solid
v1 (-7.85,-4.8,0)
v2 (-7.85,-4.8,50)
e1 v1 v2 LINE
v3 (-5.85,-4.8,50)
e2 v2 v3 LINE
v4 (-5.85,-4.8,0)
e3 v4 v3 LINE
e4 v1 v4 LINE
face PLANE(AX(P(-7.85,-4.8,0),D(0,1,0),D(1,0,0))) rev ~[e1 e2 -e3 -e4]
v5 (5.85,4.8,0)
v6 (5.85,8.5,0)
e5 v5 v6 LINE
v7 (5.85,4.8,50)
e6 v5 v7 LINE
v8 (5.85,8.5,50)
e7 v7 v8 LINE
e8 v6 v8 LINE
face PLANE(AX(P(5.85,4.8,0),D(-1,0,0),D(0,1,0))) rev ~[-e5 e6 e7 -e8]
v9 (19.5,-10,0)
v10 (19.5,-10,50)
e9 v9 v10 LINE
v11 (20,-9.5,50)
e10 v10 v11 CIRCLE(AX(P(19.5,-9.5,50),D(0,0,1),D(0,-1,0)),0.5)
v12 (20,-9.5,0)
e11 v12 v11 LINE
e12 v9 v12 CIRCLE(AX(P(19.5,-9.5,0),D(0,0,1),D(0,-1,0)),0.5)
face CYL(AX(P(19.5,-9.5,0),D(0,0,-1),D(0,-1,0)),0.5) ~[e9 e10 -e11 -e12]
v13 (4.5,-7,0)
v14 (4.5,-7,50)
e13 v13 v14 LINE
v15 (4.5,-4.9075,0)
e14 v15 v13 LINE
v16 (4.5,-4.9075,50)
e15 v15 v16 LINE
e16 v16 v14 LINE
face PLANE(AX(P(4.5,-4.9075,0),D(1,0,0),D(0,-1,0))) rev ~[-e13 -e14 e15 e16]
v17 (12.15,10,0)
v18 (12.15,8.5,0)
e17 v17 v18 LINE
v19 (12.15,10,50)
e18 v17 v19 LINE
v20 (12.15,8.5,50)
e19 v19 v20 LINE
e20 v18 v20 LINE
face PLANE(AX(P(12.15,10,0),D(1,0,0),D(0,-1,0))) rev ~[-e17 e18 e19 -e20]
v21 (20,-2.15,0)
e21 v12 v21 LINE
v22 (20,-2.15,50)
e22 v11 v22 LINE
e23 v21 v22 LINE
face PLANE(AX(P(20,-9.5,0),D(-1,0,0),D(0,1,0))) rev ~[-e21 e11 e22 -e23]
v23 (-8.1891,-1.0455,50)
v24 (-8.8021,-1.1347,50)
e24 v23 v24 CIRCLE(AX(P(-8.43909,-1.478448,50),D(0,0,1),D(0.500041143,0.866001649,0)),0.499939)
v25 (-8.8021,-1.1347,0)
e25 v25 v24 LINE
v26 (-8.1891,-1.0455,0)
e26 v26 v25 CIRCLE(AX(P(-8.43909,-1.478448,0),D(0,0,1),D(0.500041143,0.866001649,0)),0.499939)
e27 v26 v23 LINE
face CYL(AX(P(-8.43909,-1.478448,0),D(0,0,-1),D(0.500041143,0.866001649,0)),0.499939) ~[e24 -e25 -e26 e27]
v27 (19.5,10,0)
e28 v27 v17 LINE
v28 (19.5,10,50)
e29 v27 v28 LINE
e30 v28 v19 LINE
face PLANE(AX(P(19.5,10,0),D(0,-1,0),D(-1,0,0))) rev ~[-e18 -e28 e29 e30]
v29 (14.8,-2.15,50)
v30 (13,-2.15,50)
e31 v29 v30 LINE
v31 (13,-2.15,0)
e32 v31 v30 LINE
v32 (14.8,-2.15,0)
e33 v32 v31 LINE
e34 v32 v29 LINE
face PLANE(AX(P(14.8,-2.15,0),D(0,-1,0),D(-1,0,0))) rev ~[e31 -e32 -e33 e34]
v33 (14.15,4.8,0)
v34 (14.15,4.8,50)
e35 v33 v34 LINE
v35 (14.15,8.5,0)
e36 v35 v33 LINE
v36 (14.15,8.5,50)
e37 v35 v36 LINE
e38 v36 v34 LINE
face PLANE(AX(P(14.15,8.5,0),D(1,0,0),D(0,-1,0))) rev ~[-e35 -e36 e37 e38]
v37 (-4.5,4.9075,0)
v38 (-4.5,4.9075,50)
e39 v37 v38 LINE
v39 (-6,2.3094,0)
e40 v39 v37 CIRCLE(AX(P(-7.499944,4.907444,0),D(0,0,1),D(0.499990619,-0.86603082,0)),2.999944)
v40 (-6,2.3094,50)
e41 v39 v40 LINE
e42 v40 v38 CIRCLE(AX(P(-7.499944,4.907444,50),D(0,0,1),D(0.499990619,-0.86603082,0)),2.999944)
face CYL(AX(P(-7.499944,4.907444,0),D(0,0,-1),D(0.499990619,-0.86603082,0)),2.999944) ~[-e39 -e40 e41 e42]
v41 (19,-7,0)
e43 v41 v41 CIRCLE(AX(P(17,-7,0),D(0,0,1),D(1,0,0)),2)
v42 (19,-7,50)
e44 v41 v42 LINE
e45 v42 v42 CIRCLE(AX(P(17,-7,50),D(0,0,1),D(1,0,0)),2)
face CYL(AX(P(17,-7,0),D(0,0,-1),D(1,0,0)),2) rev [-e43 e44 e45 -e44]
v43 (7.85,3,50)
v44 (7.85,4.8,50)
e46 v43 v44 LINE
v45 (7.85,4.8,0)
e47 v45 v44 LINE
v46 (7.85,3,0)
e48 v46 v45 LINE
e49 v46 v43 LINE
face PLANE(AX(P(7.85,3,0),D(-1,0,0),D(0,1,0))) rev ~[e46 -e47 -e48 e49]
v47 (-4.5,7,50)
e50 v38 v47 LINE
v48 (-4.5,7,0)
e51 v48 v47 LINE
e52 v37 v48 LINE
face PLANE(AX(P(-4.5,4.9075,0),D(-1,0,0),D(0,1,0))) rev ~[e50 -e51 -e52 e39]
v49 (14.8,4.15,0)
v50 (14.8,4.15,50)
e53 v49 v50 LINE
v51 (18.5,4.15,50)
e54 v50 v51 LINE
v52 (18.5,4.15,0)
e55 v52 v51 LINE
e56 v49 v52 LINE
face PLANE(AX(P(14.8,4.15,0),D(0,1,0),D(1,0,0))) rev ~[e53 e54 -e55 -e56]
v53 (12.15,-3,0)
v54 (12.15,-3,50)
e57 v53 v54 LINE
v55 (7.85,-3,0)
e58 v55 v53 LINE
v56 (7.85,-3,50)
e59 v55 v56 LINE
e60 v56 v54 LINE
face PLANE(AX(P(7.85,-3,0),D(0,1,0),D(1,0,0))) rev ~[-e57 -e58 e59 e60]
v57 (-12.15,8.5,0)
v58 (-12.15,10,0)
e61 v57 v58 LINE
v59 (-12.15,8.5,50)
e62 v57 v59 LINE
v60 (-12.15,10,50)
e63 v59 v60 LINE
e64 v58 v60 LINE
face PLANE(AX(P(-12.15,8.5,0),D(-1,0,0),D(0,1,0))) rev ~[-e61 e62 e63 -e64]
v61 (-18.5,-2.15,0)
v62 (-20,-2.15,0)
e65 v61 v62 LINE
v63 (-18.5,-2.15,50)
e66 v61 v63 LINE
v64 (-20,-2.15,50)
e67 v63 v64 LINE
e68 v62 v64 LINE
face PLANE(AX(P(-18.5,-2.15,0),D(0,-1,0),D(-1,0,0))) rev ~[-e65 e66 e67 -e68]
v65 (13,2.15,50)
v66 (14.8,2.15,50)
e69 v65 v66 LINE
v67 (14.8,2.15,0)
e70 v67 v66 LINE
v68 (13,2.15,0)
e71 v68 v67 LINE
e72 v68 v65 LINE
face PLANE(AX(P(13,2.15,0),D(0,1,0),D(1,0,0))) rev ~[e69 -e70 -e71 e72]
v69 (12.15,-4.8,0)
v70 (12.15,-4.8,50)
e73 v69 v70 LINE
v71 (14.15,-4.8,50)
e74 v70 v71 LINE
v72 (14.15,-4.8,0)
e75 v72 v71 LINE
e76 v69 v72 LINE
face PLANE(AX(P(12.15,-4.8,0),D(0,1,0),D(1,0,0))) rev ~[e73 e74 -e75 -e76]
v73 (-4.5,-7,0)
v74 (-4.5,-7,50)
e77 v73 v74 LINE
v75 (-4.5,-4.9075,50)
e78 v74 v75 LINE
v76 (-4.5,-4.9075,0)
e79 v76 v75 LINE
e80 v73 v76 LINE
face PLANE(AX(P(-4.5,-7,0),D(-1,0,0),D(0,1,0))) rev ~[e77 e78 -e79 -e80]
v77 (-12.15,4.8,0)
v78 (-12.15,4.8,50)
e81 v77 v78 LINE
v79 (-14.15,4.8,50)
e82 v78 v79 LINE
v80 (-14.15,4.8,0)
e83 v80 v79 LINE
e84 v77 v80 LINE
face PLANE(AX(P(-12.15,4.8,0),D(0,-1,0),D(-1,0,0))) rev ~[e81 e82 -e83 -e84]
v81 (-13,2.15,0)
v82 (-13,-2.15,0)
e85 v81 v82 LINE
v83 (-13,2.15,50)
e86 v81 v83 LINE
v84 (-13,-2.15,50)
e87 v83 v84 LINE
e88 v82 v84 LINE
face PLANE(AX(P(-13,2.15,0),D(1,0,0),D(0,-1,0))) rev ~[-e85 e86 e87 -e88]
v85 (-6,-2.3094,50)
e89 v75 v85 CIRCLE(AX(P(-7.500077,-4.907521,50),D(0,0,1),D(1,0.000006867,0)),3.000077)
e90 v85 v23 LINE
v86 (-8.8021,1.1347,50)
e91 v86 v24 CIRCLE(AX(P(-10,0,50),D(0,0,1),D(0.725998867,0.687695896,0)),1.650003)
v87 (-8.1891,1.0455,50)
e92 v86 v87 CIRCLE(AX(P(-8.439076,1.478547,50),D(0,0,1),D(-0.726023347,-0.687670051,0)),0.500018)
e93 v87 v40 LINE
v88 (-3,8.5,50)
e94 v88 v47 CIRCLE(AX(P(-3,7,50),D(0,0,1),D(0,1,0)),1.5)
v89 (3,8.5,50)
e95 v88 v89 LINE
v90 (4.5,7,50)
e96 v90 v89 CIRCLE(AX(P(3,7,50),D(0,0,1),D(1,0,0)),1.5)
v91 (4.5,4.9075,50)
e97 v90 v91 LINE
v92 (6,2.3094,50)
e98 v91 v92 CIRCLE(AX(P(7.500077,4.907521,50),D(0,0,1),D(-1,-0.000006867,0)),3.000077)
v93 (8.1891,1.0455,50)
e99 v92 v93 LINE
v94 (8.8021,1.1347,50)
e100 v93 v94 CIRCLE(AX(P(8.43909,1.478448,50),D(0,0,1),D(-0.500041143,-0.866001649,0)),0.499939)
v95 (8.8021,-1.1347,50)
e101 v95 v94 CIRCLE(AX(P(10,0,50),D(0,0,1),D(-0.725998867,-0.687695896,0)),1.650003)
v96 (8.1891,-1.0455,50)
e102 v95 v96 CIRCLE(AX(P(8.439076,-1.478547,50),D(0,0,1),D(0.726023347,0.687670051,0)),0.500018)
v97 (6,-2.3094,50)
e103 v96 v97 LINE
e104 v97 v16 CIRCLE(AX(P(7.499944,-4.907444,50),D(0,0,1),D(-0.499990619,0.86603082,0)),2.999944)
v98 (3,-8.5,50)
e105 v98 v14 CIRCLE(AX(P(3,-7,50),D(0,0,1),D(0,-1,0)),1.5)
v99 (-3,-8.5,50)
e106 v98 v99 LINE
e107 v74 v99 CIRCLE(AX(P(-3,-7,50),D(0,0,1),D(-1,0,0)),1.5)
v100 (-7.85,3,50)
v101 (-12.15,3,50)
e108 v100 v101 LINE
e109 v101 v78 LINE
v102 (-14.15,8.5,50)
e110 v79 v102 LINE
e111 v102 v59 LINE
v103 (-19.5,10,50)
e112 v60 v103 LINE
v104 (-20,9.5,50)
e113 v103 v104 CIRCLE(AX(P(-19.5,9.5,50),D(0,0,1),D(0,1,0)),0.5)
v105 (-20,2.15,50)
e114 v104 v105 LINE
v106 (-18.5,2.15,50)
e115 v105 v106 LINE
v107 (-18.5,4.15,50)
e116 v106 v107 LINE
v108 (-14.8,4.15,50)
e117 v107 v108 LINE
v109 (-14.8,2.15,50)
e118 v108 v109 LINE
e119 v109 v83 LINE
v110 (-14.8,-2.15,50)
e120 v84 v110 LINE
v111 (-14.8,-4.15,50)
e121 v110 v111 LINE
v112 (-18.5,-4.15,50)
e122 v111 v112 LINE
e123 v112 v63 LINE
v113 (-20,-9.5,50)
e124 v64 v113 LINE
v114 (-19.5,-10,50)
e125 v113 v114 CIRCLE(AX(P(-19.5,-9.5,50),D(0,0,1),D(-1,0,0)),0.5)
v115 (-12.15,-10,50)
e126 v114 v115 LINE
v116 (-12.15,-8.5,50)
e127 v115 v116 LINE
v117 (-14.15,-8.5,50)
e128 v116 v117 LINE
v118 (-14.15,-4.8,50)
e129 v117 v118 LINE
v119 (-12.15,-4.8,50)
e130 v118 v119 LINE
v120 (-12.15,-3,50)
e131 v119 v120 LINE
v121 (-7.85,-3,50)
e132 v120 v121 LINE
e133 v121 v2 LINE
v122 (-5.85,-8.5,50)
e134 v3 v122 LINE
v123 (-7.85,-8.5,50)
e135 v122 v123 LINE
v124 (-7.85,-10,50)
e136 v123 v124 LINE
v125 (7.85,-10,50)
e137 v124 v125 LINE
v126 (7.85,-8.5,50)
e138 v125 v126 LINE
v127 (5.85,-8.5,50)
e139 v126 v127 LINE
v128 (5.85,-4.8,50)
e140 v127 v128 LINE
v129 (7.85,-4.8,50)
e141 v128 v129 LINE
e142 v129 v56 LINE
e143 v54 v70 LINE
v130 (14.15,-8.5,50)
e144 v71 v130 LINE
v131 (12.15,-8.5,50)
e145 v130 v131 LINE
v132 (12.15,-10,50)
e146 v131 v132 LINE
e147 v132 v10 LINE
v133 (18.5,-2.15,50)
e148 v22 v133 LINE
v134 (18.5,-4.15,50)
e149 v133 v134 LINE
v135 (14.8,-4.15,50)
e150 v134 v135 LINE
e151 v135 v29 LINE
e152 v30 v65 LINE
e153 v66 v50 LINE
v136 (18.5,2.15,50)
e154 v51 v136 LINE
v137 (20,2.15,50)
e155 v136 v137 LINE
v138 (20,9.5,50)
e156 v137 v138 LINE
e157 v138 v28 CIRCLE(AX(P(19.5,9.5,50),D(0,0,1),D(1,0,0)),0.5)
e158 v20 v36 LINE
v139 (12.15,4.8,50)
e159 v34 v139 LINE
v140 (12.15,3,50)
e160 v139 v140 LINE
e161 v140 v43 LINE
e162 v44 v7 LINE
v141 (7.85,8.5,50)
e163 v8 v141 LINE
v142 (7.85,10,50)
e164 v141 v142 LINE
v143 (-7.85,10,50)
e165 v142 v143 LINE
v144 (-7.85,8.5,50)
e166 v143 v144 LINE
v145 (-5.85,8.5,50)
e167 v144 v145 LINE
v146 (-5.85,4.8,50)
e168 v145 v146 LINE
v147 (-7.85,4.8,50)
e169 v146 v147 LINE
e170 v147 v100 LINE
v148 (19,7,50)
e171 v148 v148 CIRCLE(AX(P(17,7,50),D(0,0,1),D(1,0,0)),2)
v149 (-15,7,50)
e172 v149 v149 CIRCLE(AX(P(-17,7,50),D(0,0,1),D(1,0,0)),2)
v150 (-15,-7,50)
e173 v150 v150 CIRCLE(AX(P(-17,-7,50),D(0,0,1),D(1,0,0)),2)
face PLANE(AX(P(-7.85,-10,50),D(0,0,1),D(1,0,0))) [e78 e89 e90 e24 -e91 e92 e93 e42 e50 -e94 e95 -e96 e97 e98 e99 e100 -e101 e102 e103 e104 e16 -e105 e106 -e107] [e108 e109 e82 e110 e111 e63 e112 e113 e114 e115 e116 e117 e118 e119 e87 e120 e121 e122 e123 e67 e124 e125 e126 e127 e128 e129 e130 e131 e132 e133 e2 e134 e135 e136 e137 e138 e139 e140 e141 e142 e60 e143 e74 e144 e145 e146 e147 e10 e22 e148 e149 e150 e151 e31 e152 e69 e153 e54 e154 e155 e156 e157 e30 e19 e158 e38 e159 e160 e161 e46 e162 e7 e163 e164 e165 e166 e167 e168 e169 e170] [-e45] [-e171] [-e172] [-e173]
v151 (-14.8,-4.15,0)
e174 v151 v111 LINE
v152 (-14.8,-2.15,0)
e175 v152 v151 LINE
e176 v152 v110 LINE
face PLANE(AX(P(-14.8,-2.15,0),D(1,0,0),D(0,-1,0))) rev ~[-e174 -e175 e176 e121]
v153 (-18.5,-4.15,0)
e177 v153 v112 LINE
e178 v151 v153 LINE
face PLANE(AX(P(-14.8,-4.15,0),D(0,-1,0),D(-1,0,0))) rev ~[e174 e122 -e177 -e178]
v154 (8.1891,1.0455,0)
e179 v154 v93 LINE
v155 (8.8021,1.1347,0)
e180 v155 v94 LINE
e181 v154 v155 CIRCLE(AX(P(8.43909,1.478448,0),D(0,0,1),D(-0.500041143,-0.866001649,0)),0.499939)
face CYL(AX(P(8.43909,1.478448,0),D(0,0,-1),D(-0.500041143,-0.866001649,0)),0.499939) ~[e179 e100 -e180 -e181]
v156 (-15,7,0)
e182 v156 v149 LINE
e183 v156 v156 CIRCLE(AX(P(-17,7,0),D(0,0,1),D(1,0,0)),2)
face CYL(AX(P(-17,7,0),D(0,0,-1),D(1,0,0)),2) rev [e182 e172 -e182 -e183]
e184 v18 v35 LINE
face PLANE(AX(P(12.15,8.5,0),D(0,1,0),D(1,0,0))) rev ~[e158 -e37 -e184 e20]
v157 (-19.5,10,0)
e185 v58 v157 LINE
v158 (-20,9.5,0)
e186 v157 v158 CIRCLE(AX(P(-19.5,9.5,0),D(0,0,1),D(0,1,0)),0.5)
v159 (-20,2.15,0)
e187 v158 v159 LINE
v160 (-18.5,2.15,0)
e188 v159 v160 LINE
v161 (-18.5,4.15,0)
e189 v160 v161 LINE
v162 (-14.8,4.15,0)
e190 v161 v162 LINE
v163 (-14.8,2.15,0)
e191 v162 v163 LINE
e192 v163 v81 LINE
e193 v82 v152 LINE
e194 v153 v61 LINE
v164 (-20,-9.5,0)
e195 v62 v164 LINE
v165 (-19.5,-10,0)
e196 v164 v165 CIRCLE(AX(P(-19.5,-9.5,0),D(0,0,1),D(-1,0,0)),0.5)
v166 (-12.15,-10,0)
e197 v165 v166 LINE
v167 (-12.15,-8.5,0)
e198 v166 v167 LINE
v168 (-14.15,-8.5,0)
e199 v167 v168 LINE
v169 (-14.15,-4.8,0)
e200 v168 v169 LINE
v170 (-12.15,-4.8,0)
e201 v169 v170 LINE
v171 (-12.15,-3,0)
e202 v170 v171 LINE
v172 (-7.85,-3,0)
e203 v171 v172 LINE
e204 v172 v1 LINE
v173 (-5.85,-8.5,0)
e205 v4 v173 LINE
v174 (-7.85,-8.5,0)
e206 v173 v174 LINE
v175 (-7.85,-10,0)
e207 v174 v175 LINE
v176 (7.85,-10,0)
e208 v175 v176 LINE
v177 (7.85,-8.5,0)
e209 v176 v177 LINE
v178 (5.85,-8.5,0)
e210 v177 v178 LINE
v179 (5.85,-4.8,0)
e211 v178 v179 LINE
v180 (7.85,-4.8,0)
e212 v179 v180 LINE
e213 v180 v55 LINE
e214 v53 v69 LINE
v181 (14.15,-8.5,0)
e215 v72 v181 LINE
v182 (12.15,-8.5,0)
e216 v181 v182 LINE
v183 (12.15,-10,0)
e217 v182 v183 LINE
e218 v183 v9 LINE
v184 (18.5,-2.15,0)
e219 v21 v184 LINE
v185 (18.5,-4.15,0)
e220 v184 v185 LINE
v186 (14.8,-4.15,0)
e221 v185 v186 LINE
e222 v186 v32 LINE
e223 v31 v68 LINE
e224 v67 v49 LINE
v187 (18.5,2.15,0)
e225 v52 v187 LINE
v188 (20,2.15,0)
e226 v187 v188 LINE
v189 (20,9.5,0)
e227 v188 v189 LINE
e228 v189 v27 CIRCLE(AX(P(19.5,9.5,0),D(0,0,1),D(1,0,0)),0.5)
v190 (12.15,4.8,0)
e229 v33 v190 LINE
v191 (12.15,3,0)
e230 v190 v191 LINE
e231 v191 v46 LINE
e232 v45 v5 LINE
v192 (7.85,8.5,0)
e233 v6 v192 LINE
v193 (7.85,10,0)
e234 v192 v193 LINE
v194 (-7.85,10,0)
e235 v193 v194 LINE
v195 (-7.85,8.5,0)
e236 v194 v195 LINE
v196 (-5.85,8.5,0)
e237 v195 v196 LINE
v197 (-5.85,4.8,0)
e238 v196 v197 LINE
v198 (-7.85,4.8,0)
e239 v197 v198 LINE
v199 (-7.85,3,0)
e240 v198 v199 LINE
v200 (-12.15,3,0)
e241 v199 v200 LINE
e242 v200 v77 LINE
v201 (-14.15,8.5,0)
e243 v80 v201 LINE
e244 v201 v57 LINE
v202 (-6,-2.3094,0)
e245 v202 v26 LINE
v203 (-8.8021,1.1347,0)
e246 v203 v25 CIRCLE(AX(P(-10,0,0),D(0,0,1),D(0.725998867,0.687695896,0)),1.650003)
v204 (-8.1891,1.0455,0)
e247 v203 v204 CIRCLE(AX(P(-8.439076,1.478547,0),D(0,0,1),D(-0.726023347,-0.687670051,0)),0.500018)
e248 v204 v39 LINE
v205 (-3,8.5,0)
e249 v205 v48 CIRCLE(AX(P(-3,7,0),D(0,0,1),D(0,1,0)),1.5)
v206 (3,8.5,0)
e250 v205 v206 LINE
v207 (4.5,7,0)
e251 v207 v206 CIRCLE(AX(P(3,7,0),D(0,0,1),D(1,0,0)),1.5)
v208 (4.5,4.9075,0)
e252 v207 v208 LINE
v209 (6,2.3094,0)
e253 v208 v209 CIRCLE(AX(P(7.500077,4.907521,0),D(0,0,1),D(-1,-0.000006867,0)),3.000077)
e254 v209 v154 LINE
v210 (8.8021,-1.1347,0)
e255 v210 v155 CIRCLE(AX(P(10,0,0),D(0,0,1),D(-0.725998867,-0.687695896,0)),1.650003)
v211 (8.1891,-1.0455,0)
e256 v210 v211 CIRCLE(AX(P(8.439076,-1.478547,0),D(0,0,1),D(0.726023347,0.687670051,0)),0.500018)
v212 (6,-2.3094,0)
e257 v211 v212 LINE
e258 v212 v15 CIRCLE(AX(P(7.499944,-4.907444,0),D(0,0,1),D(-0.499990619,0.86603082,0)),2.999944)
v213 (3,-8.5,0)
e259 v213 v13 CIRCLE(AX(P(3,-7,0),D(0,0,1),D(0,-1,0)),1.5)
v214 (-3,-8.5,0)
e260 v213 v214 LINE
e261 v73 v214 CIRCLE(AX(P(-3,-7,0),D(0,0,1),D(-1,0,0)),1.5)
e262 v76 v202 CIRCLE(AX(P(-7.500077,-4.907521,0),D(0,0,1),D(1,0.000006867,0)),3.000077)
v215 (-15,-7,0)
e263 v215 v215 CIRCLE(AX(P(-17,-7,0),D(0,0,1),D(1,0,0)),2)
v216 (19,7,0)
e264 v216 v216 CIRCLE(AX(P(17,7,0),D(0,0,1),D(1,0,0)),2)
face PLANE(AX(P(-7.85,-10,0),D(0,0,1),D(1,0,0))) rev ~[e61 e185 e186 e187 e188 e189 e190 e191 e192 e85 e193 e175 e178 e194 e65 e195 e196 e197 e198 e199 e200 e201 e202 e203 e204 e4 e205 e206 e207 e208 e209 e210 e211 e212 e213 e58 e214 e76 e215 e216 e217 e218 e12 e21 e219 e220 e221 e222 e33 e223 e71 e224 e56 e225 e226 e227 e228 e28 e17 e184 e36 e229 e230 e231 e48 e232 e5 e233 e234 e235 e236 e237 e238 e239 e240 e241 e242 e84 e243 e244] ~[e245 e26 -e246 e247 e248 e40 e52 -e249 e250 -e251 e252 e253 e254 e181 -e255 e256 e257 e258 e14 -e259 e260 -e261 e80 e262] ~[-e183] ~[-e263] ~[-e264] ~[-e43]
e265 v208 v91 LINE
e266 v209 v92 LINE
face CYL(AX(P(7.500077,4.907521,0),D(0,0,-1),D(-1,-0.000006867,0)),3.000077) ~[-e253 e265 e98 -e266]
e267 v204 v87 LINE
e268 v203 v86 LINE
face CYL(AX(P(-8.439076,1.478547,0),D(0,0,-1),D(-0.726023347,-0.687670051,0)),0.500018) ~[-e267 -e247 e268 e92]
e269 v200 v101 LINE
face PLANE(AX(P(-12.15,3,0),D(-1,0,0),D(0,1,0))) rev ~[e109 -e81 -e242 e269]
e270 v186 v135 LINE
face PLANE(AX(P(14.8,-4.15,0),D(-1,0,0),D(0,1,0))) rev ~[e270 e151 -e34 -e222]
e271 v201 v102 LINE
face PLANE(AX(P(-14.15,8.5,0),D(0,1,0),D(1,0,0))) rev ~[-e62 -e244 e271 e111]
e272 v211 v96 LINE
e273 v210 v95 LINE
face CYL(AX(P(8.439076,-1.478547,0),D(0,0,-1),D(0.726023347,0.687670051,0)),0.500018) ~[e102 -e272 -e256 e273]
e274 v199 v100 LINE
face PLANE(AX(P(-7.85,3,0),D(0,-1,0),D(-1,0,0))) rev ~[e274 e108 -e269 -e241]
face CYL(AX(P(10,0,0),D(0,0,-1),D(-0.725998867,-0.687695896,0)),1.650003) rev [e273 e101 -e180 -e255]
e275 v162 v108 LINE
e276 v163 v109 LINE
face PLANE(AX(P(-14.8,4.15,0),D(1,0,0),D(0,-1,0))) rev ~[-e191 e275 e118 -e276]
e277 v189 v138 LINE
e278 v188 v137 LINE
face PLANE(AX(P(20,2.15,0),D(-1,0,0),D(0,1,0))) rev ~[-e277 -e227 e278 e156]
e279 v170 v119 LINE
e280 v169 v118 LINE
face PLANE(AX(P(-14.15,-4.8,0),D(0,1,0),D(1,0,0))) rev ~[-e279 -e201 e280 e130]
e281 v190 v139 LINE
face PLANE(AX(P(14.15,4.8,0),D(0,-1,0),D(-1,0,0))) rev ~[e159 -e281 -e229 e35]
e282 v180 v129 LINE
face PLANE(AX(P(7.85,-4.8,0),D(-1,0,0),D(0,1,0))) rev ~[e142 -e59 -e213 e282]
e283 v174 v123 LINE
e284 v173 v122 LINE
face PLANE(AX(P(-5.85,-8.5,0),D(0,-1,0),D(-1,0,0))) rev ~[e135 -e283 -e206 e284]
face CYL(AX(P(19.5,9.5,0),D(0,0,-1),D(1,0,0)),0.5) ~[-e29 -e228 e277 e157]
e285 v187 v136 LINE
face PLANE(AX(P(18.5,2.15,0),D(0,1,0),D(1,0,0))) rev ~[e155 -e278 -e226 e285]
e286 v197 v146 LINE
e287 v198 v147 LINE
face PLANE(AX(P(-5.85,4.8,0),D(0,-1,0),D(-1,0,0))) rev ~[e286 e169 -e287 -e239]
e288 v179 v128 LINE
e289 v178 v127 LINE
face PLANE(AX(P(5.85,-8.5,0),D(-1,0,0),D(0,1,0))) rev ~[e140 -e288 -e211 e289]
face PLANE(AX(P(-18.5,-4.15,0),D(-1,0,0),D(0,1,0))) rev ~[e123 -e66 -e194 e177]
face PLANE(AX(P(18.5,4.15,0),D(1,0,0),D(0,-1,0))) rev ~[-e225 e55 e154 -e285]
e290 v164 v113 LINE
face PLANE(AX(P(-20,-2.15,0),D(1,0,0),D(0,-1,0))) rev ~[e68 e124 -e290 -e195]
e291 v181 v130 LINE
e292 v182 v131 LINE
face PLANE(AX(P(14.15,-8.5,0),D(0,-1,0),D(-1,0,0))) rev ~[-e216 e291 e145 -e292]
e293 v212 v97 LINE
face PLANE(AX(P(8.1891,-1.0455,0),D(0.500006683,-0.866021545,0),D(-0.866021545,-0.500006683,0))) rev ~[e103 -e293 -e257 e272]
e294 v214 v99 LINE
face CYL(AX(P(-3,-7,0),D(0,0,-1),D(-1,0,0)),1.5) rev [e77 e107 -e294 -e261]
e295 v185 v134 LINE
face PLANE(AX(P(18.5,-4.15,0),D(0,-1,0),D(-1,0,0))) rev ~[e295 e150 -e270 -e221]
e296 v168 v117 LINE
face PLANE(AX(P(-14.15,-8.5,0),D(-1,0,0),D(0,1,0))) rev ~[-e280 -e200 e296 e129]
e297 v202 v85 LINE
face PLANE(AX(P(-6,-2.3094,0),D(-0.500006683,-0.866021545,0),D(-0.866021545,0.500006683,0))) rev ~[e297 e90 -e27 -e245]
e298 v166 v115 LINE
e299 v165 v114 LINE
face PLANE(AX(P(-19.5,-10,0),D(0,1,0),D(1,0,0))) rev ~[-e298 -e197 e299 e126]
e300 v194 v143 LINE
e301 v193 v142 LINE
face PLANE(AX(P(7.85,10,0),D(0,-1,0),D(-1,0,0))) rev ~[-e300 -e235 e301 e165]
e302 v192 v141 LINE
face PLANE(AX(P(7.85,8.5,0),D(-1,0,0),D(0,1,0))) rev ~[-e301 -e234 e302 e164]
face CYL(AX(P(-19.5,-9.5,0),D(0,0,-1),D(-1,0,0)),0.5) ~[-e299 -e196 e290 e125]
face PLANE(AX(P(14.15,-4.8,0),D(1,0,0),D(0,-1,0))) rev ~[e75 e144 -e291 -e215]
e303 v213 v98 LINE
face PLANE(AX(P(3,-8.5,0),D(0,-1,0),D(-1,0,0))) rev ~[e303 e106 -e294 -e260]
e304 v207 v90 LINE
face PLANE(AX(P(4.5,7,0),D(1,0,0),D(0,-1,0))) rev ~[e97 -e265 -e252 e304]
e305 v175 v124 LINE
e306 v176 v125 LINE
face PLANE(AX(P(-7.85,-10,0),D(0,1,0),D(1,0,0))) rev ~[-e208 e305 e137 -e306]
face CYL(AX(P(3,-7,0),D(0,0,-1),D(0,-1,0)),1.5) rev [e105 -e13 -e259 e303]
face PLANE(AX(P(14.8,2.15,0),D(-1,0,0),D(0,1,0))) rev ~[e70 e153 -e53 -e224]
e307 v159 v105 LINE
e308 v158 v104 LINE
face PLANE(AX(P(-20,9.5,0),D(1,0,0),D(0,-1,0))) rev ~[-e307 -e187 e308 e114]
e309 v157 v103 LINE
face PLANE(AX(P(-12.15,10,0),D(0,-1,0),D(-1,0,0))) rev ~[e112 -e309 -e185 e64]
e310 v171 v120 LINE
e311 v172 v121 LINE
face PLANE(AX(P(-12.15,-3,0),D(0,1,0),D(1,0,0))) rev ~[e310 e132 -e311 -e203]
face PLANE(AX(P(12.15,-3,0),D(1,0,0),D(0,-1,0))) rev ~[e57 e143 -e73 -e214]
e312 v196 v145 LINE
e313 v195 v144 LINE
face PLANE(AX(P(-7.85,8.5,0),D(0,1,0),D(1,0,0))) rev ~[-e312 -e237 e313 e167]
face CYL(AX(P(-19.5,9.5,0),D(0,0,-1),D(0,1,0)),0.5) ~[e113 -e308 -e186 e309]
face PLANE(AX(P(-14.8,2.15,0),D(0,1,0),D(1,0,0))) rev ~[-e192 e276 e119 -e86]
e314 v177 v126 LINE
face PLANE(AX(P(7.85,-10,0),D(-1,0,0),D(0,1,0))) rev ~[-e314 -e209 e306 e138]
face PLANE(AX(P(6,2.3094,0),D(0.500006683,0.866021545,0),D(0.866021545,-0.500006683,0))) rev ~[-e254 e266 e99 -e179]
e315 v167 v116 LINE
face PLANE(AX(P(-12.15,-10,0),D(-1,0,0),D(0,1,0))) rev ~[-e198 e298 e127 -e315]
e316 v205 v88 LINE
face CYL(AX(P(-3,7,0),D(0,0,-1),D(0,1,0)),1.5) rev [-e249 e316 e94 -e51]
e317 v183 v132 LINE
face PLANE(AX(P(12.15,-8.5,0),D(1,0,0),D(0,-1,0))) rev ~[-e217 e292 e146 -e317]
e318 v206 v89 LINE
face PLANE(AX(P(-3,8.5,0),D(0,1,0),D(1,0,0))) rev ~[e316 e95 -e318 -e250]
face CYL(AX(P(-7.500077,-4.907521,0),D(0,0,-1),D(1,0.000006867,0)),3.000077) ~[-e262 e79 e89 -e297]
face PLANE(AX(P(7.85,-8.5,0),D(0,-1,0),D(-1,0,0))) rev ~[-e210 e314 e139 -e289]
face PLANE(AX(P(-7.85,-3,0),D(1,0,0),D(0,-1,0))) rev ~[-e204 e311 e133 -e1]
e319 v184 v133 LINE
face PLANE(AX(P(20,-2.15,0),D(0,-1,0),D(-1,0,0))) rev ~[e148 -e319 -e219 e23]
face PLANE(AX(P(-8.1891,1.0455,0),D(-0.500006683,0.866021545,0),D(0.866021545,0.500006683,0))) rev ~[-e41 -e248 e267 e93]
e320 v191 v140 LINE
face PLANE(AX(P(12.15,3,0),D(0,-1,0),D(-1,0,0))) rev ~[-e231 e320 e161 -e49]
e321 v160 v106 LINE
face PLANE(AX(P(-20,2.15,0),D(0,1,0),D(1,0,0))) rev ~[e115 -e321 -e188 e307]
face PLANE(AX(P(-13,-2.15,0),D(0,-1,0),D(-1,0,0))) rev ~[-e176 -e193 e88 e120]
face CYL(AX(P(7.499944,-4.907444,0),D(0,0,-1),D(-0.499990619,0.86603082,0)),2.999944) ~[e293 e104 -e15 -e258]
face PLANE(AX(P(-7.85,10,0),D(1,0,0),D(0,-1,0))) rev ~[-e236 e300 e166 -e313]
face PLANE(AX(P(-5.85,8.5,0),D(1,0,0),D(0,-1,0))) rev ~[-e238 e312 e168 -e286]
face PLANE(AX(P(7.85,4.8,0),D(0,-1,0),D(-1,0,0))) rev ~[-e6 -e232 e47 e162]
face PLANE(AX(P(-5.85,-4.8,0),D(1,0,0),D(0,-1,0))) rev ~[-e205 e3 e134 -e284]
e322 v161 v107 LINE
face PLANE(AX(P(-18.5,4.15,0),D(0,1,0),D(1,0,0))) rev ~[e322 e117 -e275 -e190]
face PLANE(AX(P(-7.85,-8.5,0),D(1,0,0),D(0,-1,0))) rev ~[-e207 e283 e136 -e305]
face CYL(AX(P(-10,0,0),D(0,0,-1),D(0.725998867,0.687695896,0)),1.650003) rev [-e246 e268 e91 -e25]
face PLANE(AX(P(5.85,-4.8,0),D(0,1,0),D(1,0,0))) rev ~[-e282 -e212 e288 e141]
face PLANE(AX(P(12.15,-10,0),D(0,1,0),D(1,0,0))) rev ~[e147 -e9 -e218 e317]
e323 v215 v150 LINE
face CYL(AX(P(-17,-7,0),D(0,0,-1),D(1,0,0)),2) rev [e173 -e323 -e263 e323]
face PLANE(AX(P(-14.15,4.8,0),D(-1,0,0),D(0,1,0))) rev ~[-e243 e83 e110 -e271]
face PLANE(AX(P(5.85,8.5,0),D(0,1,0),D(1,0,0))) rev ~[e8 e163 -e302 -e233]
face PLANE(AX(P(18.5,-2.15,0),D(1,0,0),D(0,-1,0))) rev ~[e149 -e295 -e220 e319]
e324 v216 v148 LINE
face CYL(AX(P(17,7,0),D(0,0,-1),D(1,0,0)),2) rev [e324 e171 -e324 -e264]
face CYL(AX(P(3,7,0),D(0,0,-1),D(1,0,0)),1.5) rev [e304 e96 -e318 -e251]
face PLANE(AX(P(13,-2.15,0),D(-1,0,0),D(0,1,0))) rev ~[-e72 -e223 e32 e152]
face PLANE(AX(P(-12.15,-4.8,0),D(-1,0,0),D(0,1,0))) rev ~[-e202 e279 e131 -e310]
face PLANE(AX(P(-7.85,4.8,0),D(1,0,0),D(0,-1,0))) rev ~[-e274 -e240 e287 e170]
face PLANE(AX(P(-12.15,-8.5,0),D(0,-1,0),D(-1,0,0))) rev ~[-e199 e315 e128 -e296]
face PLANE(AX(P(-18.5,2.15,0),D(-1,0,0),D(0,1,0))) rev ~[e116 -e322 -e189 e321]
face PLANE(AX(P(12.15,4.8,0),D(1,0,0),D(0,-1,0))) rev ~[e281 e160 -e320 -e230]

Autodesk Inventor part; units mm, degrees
ref_plane "YZ Plane" through (0, 0, 0) normal (1, 0, 0) x (0, 1, 0)
ref_plane "XZ Plane" through (0, 0, 0) normal (0, 1, 0) x (-1, 0, 0)
ref_plane "XY Plane" through (0, 0, 0) normal (0, 0, 1) x (1, 0, 0)
sketch "スケッチ1" plane through (-7.85, -10, 0) normal (0, 0, 1) x (1, 0, 0)
  line L0 (-6.3, 14.8) -> (-6.3, 18.5) projected
  line L1 (0, 13) -> (-4.3, 13) projected
  line L2 (-4.3, 13) -> (-4.3, 14.8) projected
  line L3 (-4.3, 14.8) -> (-6.3, 14.8) projected
  line L4 (-6.3, 14.8) -> (-6.3, 18.5) projected
  line L5 (-6.3, 18.5) -> (-4.3, 18.5) projected
  line L6 (-4.3, 18.5) -> (-4.3, 20) projected
  line L7 (-4.3, 20) -> (-11.65, 20) projected
  arc A0 (-11.65, 20) -> (-12.15, 19.5) centre (-11.65, 19.5) ccw projected
  line L8 (-12.15, 19.5) -> (-12.15, 12.15) projected
  line L9 (-12.15, 12.15) -> (-10.65, 12.15) projected
  line L10 (-10.65, 12.15) -> (-10.65, 14.15) projected
  line L11 (-10.65, 14.15) -> (-6.95, 14.15) projected
  line L12 (-6.95, 14.15) -> (-6.95, 12.15) projected
  line L13 (-6.95, 12.15) -> (-5.15, 12.15) projected
  line L14 (-5.15, 12.15) -> (-5.15, 7.85) projected
  line L15 (-5.15, 7.85) -> (-6.95, 7.85) projected
  line L16 (-6.95, 7.85) -> (-6.95, 5.85) projected
  line L17 (-6.95, 5.85) -> (-10.65, 5.85) projected
  line L18 (-10.65, 5.85) -> (-10.65, 7.85) projected
  line L19 (-10.65, 7.85) -> (-12.15, 7.85) projected
  line L20 (-12.15, 7.85) -> (-12.15, 0.5) projected
  arc A1 (-12.15, 0.5) -> (-11.65, 0) centre (-11.65, 0.5) ccw projected
  line L21 (-11.65, 0) -> (-4.3, 0) projected
  line L22 (-4.3, 0) -> (-4.3, 1.5) projected
  line L23 (-4.3, 1.5) -> (-6.3, 1.5) projected
  line L24 (-6.3, 1.5) -> (-6.3, 5.2) projected
  line L25 (-6.3, 5.2) -> (-4.3, 5.2) projected
  line L26 (-4.3, 5.2) -> (-4.3, 7) projected
  line L27 (-4.3, 7) -> (0, 7) projected
  line L28 (0, 7) -> (0, 5.2) projected
  line L29 (0, 5.2) -> (2, 5.2) projected
  line L30 (2, 5.2) -> (2, 1.5) projected
  line L31 (2, 1.5) -> (0, 1.5) projected
  line L32 (0, 1.5) -> (0, 0) projected
  line L33 (0, 0) -> (15.7, 0) projected
  line L34 (15.7, 0) -> (15.7, 1.5) projected
  line L35 (15.7, 1.5) -> (13.7, 1.5) projected
  line L36 (13.7, 1.5) -> (13.7, 5.2) projected
  line L37 (13.7, 5.2) -> (15.7, 5.2) projected
  line L38 (15.7, 5.2) -> (15.7, 7) projected
  line L39 (15.7, 7) -> (20, 7) projected
  line L40 (20, 7) -> (20, 5.2) projected
  line L41 (20, 5.2) -> (22, 5.2) projected
  line L42 (22, 5.2) -> (22, 1.5) projected
  line L43 (22, 1.5) -> (20, 1.5) projected
  line L44 (20, 1.5) -> (20, 0) projected
  line L45 (20, 0) -> (27.35, 0) projected
  arc A2 (27.35, 0) -> (27.85, 0.5) centre (27.35, 0.5) ccw projected
  line L46 (27.85, 0.5) -> (27.85, 7.85) projected
  line L47 (27.85, 7.85) -> (26.35, 7.85) projected
  line L48 (26.35, 7.85) -> (26.35, 5.85) projected
  line L49 (26.35, 5.85) -> (22.65, 5.85) projected
  line L50 (22.65, 5.85) -> (22.65, 7.85) projected
  line L51 (22.65, 7.85) -> (20.85, 7.85) projected
  line L52 (20.85, 7.85) -> (20.85, 12.15) projected
  line L53 (20.85, 12.15) -> (22.65, 12.15) projected
  line L54 (22.65, 12.15) -> (22.65, 14.15) projected
  line L55 (22.65, 14.15) -> (26.35, 14.15) projected
  line L56 (26.35, 14.15) -> (26.35, 12.15) projected
  line L57 (26.35, 12.15) -> (27.85, 12.15) projected
  line L58 (27.85, 12.15) -> (27.85, 19.5) projected
  arc A3 (27.85, 19.5) -> (27.35, 20) centre (27.35, 19.5) ccw projected
  line L59 (27.35, 20) -> (20, 20) projected
  line L60 (20, 20) -> (20, 18.5) projected
  line L61 (20, 18.5) -> (22, 18.5) projected
  line L62 (22, 18.5) -> (22, 14.8) projected
  line L63 (22, 14.8) -> (20, 14.8) projected
  line L64 (20, 14.8) -> (20, 13) projected
  line L65 (20, 13) -> (15.7, 13) projected
  line L66 (15.7, 13) -> (15.7, 14.8) projected
  line L67 (15.7, 14.8) -> (13.7, 14.8) projected
  line L68 (13.7, 14.8) -> (13.7, 18.5) projected
  line L69 (13.7, 18.5) -> (15.7, 18.5) projected
  line L70 (15.7, 18.5) -> (15.7, 20) projected
  line L71 (15.7, 20) -> (0, 20) projected
  line L72 (0, 20) -> (0, 18.5) projected
  line L73 (0, 18.5) -> (2, 18.5) projected
  line L74 (2, 18.5) -> (2, 14.8) projected
  line L75 (2, 14.8) -> (0, 14.8) projected
  line L76 (0, 14.8) -> (0, 13) projected
  line L77 (12.35, 17) -> (12.35, 14.9075) projected
  arc A4 (12.35, 14.9075) -> (13.85, 12.3094) centre (15.35, 14.9075) ccw projected
  line L78 (13.85, 12.3094) -> (16.0391, 11.0455) projected
  arc A5 (16.0391, 11.0455) -> (16.6521, 11.1347) centre (16.2891, 11.4785) ccw projected
  arc A6 (16.6521, 8.8653) -> (16.6521, 11.1347) centre (17.85, 10) ccw projected
  arc A7 (16.6521, 8.8653) -> (16.0391, 8.9545) centre (16.2891, 8.5215) ccw projected
  line L79 (16.0391, 8.9545) -> (13.85, 7.6906) projected
  arc A8 (13.85, 7.6906) -> (12.35, 5.0925) centre (15.35, 5.0925) ccw projected
  line L80 (12.35, 5.0925) -> (12.35, 3) projected
  arc A9 (10.85, 1.5) -> (12.35, 3) centre (10.85, 3) ccw projected
  line L81 (10.85, 1.5) -> (4.85, 1.5) projected
  arc A10 (3.35, 3) -> (4.85, 1.5) centre (4.85, 3) ccw projected
  line L82 (3.35, 3) -> (3.35, 5.0925) projected
  arc A11 (3.35, 5.0925) -> (1.85, 7.6906) centre (0.35, 5.0925) ccw projected
  line L83 (1.85, 7.6906) -> (-0.3391, 8.9545) projected
  arc A12 (-0.3391, 8.9545) -> (-0.9521, 8.8653) centre (-0.5891, 8.5215) ccw projected
  arc A13 (-0.9521, 11.1347) -> (-0.9521, 8.8653) centre (-2.15, 10) ccw projected
  arc A14 (-0.9521, 11.1347) -> (-0.3391, 11.0455) centre (-0.5891, 11.4785) ccw projected
  line L84 (-0.3391, 11.0455) -> (1.85, 12.3094) projected
  arc A15 (1.85, 12.3094) -> (3.35, 14.9075) centre (0.35, 14.9075) ccw projected
  line L85 (3.35, 14.9075) -> (3.35, 17) projected
  arc A16 (4.85, 18.5) -> (3.35, 17) centre (4.85, 17) ccw projected
  line L86 (4.85, 18.5) -> (10.85, 18.5) projected
  arc A17 (12.35, 17) -> (10.85, 18.5) centre (10.85, 17) ccw projected
  circle A18 centre (24.85, 3) radius 2 projected
  circle A19 centre (-9.15, 3) radius 2 projected
  circle A20 centre (-9.15, 17) radius 2 projected
  circle A21 centre (24.85, 17) radius 2 projected
  point P0 (7.85, 10)
extrude "押し出し1" add sketch "スケッチ1" along normal blind 50
equation "\"d0\" = L"
equation "\"L\" = 50"
properties part number "AFS-2040-4-50" material "アルミニウム 6061"
